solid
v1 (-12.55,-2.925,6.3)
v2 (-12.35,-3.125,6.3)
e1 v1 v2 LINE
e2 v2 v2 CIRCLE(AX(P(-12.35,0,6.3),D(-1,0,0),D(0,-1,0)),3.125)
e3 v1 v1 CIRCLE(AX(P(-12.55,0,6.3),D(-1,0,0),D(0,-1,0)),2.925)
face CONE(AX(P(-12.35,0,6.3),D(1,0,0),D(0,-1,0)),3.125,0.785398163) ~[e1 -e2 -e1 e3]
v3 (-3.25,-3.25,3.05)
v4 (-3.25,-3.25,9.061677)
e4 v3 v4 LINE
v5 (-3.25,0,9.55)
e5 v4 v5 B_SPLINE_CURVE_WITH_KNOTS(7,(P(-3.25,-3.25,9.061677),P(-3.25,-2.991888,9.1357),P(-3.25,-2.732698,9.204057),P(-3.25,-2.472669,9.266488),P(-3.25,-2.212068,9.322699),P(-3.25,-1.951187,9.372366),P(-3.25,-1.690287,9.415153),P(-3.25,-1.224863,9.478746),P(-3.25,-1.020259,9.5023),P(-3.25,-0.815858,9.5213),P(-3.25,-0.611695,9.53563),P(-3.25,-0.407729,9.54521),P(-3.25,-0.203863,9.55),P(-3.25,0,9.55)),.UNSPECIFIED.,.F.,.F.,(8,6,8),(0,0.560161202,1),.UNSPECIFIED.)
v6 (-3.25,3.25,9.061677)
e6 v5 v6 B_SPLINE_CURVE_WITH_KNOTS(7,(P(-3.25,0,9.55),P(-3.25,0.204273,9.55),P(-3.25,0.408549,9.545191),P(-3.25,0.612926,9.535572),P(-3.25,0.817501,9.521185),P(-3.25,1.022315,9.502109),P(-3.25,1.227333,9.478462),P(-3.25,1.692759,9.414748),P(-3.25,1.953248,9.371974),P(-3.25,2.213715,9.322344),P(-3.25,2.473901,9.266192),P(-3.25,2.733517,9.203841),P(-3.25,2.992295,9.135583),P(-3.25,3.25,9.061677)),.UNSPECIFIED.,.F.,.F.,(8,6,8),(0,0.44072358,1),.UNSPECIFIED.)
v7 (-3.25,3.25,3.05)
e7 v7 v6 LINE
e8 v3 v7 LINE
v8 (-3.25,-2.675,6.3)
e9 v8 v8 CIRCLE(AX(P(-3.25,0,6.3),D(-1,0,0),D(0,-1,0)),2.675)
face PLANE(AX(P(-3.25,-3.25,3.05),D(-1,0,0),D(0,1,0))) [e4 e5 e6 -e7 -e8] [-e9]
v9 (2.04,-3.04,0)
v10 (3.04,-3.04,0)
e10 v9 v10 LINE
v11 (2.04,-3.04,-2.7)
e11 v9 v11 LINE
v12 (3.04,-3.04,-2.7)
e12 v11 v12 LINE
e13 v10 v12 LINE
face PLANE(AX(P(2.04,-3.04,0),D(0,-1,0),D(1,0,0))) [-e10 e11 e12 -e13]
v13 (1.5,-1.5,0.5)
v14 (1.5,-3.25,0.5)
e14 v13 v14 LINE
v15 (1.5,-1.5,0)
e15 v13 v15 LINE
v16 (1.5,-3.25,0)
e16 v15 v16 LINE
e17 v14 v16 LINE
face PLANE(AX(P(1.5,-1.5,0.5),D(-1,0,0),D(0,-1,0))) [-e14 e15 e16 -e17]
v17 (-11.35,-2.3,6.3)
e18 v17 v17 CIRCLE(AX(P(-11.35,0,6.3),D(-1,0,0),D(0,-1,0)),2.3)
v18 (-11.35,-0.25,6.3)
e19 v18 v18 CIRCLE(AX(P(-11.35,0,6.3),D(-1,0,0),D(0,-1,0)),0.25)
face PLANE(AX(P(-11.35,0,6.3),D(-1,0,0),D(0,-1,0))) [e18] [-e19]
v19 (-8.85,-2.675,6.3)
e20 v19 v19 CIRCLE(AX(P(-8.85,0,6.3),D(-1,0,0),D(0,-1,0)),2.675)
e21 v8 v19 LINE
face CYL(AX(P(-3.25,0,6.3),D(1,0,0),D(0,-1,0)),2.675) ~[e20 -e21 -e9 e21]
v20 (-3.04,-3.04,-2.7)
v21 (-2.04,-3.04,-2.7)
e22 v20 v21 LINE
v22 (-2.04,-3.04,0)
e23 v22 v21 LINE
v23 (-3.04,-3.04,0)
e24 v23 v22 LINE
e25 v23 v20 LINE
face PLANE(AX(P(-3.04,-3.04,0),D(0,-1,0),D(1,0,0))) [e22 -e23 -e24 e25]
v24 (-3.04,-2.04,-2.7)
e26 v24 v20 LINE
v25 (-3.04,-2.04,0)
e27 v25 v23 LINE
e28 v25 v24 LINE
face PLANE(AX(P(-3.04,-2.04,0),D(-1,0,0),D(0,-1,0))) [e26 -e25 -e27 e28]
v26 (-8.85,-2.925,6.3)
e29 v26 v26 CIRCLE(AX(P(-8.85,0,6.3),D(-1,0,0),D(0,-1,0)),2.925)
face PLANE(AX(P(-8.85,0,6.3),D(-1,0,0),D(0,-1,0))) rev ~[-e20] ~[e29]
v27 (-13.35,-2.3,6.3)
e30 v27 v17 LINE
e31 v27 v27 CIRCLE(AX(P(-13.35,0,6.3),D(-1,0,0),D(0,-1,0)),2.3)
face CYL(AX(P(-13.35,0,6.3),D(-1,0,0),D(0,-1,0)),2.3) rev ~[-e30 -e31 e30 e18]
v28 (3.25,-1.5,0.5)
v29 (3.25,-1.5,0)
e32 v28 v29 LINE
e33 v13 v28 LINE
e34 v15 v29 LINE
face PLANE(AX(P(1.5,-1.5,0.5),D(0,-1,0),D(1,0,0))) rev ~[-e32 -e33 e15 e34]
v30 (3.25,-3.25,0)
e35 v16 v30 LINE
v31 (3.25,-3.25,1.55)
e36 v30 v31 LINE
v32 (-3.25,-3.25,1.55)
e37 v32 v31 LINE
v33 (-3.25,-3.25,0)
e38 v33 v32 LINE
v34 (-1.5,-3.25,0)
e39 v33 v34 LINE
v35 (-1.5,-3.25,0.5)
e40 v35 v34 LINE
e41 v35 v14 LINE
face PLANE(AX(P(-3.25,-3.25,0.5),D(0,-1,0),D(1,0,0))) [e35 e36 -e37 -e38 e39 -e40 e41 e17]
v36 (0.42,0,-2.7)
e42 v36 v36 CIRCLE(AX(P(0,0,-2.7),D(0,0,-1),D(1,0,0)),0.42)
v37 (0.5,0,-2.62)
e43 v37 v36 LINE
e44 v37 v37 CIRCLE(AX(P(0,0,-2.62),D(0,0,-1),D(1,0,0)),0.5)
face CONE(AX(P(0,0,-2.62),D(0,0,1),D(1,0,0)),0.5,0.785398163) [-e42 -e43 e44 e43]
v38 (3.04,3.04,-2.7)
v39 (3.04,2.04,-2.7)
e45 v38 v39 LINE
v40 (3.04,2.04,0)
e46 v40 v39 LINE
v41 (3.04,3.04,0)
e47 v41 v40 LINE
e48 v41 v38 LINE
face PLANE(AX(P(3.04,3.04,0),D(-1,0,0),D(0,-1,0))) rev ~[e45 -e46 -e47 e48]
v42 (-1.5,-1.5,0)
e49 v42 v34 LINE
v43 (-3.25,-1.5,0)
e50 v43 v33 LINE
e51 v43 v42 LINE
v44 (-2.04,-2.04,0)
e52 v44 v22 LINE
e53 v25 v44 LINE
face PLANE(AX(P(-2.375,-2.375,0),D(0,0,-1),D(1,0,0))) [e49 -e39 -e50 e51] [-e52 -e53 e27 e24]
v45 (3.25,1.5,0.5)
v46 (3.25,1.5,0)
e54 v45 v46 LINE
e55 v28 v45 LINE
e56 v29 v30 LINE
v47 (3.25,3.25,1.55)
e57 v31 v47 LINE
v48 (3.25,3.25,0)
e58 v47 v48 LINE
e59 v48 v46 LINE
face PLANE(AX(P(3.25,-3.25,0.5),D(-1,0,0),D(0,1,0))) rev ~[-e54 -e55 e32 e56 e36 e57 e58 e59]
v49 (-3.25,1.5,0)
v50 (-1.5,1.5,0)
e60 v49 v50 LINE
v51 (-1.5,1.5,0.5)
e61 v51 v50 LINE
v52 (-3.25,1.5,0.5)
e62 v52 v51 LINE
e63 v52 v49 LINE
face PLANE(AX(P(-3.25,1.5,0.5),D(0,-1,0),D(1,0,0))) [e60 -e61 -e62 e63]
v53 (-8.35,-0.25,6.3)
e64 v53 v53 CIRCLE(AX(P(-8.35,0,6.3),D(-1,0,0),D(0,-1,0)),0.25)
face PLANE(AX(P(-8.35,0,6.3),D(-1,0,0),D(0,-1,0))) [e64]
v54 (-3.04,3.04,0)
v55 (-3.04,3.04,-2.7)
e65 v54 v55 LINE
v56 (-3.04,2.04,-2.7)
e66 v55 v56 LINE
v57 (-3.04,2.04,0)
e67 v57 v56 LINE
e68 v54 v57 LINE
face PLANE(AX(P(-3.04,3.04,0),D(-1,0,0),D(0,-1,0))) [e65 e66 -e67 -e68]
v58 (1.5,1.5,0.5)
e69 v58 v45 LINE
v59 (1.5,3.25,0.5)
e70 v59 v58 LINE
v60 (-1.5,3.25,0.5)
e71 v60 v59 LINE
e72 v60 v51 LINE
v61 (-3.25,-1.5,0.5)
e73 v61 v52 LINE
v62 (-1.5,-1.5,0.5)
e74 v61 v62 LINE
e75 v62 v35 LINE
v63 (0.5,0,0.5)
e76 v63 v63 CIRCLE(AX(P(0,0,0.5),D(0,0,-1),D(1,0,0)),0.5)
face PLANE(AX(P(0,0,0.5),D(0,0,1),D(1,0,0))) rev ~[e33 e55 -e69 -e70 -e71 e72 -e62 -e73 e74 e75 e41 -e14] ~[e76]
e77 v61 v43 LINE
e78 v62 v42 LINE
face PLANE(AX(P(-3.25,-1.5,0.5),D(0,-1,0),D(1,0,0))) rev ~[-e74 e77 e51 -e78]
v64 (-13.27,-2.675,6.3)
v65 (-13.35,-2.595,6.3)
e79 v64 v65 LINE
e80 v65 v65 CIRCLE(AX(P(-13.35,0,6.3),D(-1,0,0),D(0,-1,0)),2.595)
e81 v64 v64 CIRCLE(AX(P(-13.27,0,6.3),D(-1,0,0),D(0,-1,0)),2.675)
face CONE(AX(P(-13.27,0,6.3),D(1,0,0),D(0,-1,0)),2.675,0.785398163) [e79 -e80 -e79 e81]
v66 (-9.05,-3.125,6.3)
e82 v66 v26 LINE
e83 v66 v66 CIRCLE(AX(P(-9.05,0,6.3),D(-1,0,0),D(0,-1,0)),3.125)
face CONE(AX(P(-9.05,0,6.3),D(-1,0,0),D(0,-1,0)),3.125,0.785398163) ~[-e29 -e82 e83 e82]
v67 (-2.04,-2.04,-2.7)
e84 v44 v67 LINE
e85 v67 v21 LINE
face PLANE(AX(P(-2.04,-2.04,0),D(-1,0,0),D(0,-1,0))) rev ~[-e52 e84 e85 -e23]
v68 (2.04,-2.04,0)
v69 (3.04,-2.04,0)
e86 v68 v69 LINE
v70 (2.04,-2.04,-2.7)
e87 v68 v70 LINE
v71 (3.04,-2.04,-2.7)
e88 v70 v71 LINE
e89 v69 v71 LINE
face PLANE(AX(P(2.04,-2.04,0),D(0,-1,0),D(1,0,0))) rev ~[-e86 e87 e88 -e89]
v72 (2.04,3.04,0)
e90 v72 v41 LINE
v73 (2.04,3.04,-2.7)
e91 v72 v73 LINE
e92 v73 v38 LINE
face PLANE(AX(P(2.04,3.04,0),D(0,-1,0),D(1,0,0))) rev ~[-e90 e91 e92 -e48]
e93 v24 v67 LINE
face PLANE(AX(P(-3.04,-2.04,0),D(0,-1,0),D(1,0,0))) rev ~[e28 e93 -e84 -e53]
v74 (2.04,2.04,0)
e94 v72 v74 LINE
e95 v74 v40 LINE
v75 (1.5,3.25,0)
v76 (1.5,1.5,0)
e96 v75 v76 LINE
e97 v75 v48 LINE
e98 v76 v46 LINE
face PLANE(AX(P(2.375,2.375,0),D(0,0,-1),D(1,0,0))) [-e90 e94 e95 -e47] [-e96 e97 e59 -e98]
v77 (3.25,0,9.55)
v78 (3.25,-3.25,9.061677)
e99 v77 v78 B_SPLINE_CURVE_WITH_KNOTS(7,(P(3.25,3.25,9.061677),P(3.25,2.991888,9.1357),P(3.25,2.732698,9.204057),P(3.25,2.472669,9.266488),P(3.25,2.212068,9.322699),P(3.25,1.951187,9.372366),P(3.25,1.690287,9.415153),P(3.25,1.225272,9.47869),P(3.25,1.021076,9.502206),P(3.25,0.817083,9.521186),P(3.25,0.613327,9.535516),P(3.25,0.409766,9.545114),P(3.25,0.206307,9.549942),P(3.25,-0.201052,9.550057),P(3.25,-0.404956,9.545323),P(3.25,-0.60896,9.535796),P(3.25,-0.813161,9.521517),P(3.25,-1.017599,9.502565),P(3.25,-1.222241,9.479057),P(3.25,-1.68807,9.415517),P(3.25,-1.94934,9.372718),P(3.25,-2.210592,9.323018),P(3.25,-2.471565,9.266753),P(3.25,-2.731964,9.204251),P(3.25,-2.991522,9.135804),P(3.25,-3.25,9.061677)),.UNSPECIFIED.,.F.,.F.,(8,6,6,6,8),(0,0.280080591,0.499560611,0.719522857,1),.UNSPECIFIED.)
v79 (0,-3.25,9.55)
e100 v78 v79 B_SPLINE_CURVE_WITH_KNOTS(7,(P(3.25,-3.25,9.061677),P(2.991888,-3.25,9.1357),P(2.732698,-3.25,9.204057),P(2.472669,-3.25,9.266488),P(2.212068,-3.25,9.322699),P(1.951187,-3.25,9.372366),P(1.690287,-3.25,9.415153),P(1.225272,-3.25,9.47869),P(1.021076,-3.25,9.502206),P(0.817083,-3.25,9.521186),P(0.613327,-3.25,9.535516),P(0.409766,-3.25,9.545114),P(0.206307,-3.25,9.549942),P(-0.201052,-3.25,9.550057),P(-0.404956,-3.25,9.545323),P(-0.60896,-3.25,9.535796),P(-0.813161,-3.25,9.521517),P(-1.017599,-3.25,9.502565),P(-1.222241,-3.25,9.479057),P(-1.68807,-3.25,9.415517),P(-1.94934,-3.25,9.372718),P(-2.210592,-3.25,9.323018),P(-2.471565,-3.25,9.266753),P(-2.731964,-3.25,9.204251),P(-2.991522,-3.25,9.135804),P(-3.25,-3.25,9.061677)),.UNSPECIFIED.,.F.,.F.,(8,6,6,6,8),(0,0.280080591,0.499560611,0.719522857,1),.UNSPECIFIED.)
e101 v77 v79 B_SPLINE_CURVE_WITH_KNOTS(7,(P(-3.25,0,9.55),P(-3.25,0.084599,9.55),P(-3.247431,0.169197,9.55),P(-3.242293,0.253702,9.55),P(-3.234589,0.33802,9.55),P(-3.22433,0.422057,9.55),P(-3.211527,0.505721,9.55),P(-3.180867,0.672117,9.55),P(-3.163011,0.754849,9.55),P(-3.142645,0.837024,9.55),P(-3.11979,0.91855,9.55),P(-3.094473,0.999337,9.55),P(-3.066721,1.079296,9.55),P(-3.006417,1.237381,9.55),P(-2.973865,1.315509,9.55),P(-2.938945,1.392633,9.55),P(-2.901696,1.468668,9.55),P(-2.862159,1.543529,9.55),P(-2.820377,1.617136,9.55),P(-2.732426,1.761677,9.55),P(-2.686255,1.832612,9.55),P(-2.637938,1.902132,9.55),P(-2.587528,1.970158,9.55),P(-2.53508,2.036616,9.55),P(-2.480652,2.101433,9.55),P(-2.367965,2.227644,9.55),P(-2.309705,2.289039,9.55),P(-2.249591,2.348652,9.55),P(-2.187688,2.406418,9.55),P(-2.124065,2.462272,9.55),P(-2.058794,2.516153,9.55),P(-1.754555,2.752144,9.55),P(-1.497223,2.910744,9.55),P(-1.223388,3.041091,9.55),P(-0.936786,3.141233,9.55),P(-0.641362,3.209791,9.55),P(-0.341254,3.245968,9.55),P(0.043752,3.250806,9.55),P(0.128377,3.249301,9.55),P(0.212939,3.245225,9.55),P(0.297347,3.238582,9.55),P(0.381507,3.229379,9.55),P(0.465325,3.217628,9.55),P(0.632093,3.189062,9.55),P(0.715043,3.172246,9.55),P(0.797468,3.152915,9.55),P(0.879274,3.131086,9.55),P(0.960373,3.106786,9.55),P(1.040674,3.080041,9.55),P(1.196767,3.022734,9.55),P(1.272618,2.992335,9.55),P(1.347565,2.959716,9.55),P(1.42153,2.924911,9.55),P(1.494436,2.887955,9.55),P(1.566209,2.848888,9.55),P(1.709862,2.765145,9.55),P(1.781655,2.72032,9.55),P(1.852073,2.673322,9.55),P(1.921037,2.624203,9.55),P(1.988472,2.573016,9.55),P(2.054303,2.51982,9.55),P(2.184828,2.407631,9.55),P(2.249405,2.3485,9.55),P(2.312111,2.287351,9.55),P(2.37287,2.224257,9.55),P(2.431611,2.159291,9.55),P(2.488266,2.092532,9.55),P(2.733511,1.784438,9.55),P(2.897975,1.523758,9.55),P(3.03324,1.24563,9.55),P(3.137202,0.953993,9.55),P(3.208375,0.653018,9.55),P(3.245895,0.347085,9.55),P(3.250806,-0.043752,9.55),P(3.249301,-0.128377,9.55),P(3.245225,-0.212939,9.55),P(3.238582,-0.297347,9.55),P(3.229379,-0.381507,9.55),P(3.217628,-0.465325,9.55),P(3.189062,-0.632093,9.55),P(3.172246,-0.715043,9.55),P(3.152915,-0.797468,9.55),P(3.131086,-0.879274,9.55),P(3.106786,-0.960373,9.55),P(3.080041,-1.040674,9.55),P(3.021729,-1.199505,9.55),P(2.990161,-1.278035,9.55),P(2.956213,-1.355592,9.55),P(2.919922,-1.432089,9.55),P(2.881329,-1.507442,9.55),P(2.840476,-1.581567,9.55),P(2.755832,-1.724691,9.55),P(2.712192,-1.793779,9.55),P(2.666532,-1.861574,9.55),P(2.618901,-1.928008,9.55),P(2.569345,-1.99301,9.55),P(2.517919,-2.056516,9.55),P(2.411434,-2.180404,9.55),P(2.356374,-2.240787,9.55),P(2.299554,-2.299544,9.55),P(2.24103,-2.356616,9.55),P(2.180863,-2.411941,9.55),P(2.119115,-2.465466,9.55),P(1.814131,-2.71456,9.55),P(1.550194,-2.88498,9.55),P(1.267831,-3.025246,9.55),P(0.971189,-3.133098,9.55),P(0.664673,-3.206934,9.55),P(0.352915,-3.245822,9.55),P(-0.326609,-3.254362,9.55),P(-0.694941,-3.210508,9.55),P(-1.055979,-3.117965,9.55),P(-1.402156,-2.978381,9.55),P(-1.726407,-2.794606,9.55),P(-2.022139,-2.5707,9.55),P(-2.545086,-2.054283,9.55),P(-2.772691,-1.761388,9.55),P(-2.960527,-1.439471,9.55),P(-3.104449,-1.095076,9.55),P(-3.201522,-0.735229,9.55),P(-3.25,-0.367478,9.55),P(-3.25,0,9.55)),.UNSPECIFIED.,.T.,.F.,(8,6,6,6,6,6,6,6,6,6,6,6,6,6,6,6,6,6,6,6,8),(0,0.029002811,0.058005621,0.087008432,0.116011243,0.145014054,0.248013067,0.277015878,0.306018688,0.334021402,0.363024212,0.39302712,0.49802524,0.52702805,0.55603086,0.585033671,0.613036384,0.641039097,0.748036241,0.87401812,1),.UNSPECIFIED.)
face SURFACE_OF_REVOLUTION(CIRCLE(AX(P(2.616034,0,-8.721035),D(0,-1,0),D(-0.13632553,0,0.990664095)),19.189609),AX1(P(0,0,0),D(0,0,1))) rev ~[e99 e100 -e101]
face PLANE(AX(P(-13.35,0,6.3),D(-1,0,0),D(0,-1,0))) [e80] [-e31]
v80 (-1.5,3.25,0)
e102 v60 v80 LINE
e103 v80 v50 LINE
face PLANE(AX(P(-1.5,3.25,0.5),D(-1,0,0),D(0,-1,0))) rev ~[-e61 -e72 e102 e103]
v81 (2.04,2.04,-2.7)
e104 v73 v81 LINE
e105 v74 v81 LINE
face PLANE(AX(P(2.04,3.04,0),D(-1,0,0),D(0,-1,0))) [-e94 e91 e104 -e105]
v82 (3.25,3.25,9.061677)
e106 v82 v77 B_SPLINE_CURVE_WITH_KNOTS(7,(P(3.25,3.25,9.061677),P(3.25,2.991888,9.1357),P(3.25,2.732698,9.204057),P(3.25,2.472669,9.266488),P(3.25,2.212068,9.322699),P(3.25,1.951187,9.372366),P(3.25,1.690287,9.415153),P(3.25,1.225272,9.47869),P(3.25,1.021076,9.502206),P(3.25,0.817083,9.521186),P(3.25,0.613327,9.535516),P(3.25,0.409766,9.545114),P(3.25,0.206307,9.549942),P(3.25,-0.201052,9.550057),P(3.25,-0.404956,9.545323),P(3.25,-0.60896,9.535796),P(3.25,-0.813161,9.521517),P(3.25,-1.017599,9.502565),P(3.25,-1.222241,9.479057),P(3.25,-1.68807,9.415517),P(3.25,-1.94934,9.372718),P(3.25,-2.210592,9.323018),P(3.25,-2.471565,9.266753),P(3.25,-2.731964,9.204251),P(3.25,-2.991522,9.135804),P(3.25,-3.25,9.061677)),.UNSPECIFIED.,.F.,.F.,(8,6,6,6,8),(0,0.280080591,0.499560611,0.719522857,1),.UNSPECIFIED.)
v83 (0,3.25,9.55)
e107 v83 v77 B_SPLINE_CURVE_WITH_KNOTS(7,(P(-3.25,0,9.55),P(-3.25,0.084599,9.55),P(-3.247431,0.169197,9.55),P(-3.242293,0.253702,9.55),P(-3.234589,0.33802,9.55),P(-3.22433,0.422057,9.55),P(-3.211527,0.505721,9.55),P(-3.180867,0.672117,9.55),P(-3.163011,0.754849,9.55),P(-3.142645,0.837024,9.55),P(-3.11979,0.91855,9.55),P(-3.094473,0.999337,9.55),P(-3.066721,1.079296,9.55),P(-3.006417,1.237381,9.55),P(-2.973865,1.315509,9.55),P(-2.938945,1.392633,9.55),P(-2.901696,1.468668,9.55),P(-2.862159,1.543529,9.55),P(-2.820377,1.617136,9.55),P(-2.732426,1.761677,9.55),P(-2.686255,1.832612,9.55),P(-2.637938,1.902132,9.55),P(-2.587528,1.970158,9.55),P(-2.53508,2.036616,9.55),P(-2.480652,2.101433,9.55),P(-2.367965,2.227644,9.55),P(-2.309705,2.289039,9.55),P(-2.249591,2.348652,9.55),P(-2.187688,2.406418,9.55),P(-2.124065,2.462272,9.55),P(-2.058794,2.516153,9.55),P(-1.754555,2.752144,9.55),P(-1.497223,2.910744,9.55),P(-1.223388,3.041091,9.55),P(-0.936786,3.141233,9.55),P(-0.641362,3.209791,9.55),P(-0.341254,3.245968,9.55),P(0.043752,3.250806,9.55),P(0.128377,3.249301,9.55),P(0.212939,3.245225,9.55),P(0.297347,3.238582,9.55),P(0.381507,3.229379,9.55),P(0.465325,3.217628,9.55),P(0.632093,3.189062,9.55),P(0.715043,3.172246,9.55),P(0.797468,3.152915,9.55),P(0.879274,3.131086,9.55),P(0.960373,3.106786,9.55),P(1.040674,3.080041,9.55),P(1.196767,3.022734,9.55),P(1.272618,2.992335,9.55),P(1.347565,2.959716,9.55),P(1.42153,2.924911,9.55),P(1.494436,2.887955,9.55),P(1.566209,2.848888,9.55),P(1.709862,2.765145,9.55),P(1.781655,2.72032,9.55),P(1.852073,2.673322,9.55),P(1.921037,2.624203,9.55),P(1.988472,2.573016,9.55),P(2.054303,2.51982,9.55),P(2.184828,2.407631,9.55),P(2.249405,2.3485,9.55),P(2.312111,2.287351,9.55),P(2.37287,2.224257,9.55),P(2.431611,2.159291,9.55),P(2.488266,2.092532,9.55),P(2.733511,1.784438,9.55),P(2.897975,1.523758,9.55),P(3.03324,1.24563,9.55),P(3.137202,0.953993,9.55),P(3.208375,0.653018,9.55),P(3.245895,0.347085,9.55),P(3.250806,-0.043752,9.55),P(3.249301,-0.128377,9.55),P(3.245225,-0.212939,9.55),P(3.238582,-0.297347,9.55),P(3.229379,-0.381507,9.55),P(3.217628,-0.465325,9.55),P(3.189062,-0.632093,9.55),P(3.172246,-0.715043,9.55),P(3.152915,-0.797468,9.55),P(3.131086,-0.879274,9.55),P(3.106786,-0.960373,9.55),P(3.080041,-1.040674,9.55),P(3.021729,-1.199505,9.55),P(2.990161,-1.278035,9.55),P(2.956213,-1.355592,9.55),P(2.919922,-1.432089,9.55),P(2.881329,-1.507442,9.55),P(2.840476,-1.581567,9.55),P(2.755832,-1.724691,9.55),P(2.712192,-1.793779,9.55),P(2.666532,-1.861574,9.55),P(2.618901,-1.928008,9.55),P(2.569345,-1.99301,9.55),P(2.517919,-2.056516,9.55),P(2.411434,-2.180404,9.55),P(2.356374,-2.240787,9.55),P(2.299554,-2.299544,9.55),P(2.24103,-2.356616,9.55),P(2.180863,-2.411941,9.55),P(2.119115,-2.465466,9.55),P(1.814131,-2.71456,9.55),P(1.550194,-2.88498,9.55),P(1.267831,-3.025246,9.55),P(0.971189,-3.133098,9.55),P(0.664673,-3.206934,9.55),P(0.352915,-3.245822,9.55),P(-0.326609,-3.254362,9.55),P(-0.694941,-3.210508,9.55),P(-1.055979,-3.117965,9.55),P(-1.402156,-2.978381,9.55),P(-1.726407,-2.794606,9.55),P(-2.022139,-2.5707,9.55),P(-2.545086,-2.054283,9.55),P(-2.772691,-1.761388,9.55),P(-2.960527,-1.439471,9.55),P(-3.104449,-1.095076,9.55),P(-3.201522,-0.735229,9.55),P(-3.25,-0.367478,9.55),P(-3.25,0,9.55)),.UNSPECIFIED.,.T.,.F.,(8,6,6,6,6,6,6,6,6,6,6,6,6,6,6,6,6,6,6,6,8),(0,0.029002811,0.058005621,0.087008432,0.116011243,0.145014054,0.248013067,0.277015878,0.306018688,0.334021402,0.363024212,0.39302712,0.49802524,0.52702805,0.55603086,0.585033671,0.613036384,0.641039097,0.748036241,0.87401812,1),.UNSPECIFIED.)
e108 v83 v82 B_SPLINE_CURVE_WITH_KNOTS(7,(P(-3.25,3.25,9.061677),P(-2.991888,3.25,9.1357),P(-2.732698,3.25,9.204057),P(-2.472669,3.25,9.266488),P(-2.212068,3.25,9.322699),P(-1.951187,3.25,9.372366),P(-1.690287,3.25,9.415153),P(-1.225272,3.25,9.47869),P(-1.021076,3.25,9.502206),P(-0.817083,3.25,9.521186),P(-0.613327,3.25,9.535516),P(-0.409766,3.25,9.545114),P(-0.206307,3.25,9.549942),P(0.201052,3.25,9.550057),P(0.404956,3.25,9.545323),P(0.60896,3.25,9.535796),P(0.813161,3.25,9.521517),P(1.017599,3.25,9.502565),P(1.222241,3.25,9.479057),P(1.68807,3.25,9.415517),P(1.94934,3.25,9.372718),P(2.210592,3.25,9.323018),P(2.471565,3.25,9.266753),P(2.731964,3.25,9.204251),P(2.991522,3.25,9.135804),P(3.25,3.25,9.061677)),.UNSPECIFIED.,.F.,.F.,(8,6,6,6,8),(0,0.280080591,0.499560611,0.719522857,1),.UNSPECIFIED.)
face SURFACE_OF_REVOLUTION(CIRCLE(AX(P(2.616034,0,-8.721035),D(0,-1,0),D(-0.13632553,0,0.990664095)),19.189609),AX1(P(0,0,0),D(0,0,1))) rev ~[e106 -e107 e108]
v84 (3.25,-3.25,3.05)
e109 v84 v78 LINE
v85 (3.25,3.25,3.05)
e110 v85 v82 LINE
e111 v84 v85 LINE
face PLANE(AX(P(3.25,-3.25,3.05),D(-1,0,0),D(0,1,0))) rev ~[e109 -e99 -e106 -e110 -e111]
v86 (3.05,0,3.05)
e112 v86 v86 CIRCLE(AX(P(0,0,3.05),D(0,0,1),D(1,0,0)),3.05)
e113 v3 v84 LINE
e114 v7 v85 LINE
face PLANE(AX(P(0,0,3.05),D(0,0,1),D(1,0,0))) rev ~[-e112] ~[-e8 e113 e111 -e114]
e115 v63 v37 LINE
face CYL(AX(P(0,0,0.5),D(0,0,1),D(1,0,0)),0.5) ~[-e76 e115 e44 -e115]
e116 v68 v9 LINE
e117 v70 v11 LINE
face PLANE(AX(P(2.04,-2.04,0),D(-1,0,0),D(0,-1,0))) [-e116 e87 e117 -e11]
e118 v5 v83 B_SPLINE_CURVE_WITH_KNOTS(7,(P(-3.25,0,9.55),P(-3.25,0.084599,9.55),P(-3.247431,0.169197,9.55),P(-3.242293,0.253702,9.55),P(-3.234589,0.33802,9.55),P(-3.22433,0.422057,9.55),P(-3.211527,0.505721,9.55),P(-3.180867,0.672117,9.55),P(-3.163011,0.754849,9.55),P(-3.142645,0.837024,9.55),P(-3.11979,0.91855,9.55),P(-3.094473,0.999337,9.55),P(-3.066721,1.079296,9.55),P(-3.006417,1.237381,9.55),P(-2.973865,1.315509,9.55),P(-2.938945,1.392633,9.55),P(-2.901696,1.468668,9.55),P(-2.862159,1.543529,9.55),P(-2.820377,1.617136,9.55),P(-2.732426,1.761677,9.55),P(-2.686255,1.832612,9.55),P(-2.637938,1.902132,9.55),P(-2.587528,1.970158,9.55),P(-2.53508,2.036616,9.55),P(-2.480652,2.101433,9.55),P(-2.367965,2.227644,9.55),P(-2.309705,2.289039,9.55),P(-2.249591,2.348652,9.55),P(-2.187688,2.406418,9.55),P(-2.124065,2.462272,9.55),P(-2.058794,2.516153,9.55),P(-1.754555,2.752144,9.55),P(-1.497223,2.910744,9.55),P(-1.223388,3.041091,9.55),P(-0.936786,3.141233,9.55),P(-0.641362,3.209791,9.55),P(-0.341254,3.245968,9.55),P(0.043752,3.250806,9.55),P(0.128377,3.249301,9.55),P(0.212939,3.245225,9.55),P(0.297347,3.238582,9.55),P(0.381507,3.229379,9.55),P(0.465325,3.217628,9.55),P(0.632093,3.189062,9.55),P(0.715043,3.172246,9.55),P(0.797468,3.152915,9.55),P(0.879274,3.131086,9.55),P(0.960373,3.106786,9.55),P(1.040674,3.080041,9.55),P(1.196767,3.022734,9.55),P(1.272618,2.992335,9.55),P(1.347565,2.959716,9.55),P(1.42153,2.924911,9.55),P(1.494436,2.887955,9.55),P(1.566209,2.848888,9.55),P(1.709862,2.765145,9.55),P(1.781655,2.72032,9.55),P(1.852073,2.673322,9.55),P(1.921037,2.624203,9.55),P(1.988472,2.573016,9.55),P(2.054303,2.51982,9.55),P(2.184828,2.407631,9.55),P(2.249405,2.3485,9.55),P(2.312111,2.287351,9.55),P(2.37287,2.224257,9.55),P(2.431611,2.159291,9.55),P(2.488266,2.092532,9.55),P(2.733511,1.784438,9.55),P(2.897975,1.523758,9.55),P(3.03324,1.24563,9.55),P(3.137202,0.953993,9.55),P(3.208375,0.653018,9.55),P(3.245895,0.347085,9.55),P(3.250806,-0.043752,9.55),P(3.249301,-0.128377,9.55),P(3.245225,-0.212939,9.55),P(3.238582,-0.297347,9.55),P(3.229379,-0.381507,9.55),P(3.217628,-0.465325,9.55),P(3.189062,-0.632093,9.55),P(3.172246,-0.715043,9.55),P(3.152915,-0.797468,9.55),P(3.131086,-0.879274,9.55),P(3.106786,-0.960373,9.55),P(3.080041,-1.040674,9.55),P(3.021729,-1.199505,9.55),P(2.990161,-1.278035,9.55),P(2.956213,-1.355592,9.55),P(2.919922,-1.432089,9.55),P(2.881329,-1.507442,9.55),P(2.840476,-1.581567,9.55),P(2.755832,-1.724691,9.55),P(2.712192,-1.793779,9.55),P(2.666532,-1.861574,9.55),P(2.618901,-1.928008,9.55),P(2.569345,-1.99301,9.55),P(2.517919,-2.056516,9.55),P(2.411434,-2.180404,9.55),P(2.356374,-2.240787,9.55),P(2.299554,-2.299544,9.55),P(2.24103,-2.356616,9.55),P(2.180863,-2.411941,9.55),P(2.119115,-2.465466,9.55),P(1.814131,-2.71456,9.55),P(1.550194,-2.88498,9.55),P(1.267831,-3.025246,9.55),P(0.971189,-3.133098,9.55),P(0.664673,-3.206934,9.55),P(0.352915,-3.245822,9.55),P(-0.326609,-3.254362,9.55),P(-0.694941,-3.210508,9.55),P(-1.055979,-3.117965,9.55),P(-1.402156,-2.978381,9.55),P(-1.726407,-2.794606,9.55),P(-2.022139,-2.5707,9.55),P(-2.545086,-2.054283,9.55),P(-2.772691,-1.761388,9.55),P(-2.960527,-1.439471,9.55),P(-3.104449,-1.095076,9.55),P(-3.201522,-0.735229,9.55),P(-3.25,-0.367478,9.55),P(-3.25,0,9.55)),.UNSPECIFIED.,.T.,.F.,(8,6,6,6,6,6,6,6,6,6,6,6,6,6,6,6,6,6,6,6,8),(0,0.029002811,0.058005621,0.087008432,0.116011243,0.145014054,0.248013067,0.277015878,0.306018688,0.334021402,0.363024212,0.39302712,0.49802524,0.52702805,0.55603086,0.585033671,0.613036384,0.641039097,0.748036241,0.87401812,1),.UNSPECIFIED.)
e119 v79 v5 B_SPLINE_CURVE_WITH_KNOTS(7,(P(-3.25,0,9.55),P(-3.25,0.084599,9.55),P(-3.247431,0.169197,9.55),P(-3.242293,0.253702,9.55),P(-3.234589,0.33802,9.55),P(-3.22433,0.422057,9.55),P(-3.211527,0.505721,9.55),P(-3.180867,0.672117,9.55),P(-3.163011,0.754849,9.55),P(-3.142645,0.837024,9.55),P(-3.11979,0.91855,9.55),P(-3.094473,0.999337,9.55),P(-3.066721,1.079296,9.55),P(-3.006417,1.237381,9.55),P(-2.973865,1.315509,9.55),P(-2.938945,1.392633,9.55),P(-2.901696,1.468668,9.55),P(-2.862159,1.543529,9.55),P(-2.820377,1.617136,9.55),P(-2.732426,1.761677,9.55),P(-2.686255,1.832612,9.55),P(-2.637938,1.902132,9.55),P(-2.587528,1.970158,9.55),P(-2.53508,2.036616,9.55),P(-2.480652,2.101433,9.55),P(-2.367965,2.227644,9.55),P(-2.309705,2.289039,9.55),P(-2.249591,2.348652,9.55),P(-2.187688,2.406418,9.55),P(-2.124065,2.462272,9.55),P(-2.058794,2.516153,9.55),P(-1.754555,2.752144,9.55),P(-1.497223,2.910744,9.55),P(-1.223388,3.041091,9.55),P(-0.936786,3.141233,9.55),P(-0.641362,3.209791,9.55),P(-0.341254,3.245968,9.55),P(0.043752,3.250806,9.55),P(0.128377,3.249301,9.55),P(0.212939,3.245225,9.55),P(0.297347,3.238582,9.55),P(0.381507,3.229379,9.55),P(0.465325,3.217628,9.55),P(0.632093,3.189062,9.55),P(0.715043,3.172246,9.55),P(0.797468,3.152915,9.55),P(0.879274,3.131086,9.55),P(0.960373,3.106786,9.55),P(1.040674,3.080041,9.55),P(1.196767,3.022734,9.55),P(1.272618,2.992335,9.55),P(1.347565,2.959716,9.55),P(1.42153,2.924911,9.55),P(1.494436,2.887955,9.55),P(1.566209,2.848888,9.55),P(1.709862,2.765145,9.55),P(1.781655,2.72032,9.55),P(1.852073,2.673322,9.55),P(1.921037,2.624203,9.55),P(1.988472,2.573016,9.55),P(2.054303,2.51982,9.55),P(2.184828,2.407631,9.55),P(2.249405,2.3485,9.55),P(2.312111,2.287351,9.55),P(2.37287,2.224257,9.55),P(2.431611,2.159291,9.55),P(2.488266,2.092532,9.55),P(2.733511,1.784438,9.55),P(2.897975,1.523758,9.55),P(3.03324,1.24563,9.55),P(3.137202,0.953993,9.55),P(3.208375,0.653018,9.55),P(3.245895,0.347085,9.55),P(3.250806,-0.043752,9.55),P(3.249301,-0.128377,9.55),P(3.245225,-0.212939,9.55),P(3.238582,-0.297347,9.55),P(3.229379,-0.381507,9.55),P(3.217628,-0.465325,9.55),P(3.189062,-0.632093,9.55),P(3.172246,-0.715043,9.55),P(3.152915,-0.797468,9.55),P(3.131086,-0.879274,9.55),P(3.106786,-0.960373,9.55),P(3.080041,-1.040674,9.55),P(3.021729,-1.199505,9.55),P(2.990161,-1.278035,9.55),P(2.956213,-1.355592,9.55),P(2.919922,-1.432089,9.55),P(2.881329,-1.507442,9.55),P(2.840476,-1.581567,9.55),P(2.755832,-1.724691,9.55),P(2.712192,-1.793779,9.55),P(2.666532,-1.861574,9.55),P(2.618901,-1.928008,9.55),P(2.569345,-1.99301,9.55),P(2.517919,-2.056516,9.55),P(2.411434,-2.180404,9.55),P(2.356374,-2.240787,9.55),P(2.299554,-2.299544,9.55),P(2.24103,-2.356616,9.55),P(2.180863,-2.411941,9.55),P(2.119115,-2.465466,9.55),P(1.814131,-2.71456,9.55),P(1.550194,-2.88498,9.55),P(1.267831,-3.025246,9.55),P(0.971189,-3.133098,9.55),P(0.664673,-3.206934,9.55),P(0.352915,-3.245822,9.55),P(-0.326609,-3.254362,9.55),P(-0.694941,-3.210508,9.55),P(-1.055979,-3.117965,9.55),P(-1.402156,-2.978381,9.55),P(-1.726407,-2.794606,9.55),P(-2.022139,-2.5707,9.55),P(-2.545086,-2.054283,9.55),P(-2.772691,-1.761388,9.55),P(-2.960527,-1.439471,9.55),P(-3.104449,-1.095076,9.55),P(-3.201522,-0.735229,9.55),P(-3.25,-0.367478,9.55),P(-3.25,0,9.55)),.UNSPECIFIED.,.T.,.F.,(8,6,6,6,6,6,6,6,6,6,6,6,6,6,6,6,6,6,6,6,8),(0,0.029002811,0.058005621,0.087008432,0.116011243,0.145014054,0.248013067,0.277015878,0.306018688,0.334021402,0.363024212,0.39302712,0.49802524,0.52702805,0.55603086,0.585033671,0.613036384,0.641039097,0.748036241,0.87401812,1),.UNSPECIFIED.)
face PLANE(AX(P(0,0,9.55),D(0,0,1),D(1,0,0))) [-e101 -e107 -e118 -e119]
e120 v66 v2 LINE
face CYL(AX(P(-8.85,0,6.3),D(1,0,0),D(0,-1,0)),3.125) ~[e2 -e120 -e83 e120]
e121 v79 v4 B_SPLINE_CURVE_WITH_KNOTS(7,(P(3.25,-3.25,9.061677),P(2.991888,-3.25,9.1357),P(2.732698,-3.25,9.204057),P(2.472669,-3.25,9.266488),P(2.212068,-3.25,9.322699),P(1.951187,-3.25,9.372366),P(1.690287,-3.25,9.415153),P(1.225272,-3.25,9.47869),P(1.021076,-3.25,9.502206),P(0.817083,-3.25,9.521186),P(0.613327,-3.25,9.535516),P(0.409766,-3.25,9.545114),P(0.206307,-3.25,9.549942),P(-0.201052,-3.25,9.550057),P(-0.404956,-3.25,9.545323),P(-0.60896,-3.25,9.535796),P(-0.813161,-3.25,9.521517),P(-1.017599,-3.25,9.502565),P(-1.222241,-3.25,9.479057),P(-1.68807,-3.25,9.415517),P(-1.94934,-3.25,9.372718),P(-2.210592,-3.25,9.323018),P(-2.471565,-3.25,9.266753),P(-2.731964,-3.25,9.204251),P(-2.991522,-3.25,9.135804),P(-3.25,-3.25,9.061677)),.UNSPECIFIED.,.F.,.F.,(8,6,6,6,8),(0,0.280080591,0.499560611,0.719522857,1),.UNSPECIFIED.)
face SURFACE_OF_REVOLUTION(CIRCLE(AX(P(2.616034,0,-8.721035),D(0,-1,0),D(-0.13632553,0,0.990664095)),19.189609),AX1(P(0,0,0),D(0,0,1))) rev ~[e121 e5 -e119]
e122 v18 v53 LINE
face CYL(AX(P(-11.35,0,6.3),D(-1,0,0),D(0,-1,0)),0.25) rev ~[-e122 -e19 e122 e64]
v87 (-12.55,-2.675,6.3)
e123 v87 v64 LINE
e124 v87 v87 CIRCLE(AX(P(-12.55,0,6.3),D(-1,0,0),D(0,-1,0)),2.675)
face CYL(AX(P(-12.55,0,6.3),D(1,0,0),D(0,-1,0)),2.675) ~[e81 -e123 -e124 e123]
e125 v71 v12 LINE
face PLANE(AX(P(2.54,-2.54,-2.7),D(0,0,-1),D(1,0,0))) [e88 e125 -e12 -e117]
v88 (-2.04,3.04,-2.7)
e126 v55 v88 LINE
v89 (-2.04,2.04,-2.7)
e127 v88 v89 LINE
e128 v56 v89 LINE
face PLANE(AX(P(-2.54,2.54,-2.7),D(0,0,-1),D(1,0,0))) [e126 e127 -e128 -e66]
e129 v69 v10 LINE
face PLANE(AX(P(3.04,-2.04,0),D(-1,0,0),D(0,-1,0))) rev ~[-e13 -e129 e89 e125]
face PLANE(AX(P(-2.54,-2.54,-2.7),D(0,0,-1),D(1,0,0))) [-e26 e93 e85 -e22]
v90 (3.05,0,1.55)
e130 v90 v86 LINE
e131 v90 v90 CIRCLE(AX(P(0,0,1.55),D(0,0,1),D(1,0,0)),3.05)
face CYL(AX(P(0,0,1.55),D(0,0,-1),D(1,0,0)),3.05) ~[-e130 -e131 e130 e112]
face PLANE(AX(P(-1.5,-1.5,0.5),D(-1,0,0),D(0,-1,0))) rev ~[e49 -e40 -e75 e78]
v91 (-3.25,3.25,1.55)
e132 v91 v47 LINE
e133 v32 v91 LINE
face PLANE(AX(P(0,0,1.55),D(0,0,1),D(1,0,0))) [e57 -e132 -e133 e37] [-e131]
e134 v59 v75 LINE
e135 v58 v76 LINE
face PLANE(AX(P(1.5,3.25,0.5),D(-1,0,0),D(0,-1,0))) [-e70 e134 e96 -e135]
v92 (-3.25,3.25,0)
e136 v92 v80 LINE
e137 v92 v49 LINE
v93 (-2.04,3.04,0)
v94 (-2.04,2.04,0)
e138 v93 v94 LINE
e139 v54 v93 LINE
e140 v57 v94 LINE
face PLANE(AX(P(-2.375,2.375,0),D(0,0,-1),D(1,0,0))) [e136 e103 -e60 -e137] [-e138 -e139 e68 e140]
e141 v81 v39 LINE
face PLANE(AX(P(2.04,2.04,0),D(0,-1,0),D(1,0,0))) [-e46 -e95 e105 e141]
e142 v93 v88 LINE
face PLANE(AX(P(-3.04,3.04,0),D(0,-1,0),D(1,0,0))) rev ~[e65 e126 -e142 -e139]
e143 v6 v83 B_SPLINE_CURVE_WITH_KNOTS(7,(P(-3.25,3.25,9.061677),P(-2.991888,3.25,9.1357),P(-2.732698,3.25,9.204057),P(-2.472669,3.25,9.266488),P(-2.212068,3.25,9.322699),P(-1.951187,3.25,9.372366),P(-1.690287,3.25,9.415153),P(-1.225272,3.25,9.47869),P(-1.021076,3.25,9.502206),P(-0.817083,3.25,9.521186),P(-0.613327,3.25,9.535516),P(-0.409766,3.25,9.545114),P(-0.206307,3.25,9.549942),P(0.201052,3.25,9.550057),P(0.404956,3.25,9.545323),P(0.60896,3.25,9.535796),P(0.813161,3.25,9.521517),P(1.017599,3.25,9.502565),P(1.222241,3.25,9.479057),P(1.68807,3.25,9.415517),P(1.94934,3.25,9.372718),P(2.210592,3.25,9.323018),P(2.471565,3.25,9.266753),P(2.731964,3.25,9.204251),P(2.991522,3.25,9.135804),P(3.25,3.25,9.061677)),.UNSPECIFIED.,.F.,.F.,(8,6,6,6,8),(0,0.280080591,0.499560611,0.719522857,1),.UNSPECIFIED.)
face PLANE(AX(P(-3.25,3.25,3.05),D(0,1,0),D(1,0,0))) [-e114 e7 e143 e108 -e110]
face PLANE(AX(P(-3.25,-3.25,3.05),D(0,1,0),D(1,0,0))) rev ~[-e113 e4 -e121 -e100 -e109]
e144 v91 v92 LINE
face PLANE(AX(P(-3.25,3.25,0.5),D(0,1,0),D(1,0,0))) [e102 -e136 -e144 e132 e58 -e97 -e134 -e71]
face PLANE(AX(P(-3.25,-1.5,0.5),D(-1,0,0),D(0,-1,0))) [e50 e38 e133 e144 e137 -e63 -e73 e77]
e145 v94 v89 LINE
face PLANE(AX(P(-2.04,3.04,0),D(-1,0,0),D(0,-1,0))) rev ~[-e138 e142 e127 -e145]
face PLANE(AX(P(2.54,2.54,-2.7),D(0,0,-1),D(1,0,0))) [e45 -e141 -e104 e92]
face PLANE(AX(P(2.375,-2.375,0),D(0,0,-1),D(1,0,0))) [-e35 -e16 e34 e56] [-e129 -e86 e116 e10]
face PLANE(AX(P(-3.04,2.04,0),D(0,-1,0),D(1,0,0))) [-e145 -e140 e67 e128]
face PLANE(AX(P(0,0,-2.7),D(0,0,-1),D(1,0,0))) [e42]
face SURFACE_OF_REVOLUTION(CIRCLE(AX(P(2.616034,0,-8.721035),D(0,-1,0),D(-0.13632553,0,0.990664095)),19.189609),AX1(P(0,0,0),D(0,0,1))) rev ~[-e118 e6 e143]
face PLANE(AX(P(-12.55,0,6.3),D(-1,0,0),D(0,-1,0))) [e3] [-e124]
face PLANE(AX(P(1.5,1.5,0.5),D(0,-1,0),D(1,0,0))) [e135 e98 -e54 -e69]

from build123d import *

# Parameters (mm, degrees)
SKETCH_W        = 6.5
SKETCH_H        = 6.5
PAD_DEPTH       = 1.05
SKETCH001_W     = 1.75
SKETCH001_H     = 1.75
PAD001_DEPTH    = 0.5
SKETCH002_W     = 1
SKETCH002_H     = 1
PAD002_DEPTH    = 2.7
SKETCH003_R     = 0.5
PAD003_DEPTH    = 3.2
CHAMFER_SIZE    = 0.08
SKETCH004_R     = 3.05
PAD004_DEPTH    = 1.5
SKETCH005_W     = 6.5
SKETCH005_H     = 6.5
PAD005_DEPTH    = 6.5
SKETCH006_R     = 2.675
PAD006_DEPTH    = 5.6
SKETCH007_R     = 3.125
PAD007_DEPTH    = 3.7
SKETCH008_R     = 2.675
PAD008_DEPTH    = 0.8
CHAMFER001_SIZE = 0.08
CHAMFER002_SIZE = 0.2
SKETCH009_R     = 2.3
POCKET_DEPTH    = 2
SKETCH010_R     = 0.25
POCKET001_DEPTH = 3


with BuildPart() as part:
    # Sketch → Pad (new body)
    with BuildSketch(Plane.XY.offset(0.5)):
        Rectangle(SKETCH_W, SKETCH_H)
    extrude(amount=PAD_DEPTH)

    # Sketch001 (on Face5 of Pad) → Pad001 (join)
    with BuildSketch(Plane(origin=(0, 0, 0.5), x_dir=(1, 0, 0), z_dir=(0, 0, -1))):
        with Locations((-2.375, 2.375)):
            Rectangle(SKETCH001_W, SKETCH001_H)
        with Locations((-2.375, -2.375)):
            Rectangle(SKETCH001_W, SKETCH001_H)
        with Locations((2.375, -2.375)):
            Rectangle(SKETCH001_W, SKETCH001_H)
        with Locations((2.375, 2.375)):
            Rectangle(SKETCH001_W, SKETCH001_H)
    extrude(amount=PAD001_DEPTH)

    # Sketch002 (on Face26 of Pad001) → Pad002 (join)
    with BuildSketch(Plane(origin=(0, 0, 0), x_dir=(1, 0, 0), z_dir=(0, 0, -1))):
        with Locations((-2.54, 2.54)):
            Rectangle(SKETCH002_W, SKETCH002_H)
        with Locations((2.54, 2.54)):
            Rectangle(SKETCH002_W, SKETCH002_H)
        with Locations((2.54, -2.54)):
            Rectangle(SKETCH002_W, SKETCH002_H)
        with Locations((-2.54, -2.54)):
            Rectangle(SKETCH002_W, SKETCH002_H)
    extrude(amount=PAD002_DEPTH)

    # Sketch003 (on Face5 of Pad002) → Pad003 (join)
    with BuildSketch(Plane(origin=(0, 0, 0.5), x_dir=(1, 0, 0), z_dir=(0, 0, -1))):
        Circle(SKETCH003_R)
    extrude(amount=PAD003_DEPTH)

    # Chamfer
    chamfer_edges = [part.edges().sort_by_distance(p)[0] for p in [
        (-0.5, 0, -2.7),
    ]]
    chamfer(chamfer_edges, length=CHAMFER_SIZE)

    # Sketch004 (on Face20 of Chamfer) → Pad004 (join)
    with BuildSketch(Plane.XY.offset(1.55)):
        Circle(SKETCH004_R)
    extrude(amount=PAD004_DEPTH)

    # Sketch005 (on Face48 of Pad004) → Pad005 (join)
    with BuildSketch(Plane.XY.offset(3.05)):
        Rectangle(SKETCH005_W, SKETCH005_H)
    extrude(amount=PAD005_DEPTH)

    # Sketch006 (on Face2 of Pad005) → Pad006 (join)
    with BuildSketch(Plane(origin=(-3.25, 0, 0), x_dir=(0, -1, 0), z_dir=(-1, 0, 0))):
        with Locations((0, 6.3)):
            Circle(SKETCH006_R)
    extrude(amount=PAD006_DEPTH)

    # Sketch007 (on Face9 of Pad006) → Pad007 (join)
    with BuildSketch(Plane(origin=(-8.85, 0, 0), x_dir=(0, -1, 0), z_dir=(-1, 0, 0))):
        with Locations((0, 6.3)):
            Circle(SKETCH007_R)
    extrude(amount=PAD007_DEPTH)

    # Sketch008 (on Face3 of Pad007) → Pad008 (join)
    with BuildSketch(Plane(origin=(-12.55, 0, 0), x_dir=(0, -1, 0), z_dir=(-1, 0, 0))):
        with Locations((0, 6.3)):
            Circle(SKETCH008_R)
    extrude(amount=PAD008_DEPTH)

    # Chamfer001
    chamfer001_edges = [part.edges().sort_by_distance(p)[0] for p in [
        (-13.35, 2.675, 6.3),
    ]]
    chamfer(chamfer001_edges, length=CHAMFER001_SIZE)

    # Chamfer002
    chamfer002_edges = [part.edges().sort_by_distance(p)[0] for p in [
        (-8.85, 3.125, 6.3),
        (-12.55, 3.125, 6.3),
    ]]
    chamfer(chamfer002_edges, length=CHAMFER002_SIZE)

    # Sketch009 (on Face7 of Chamfer002) → Pocket (cut)
    with BuildSketch(Plane(origin=(-13.35, 0, 0), x_dir=(0, -1, 0), z_dir=(-1, 0, 0))):
        with Locations((0, 6.3)):
            Circle(SKETCH009_R)
    extrude(amount=-POCKET_DEPTH, mode=Mode.SUBTRACT)

    # Sketch010 (on Face11 of Pocket) → Pocket001 (cut)
    with BuildSketch(Plane(origin=(-11.35, 0, 0), x_dir=(0, -1, 0), z_dir=(-1, 0, 0))):
        with Locations((0, 6.3)):
            Circle(SKETCH010_R)
    extrude(amount=-POCKET001_DEPTH, mode=Mode.SUBTRACT)

    # Sketch011 → Groove (revolve, cut)
    with BuildSketch(Plane.XZ):
        with BuildLine():
            ThreePointArc((0, 10.289421), (-2.380676, 9.806619), (-4.681284, 9.026929))
            Line((-4.681284, 9.026929), (-4.681284, 13.840189))
            Line((-4.681284, 13.840189), (0, 13.840189))
            Line((0, 13.840189), (0, 10.289421))
        make_face()
    revolve(axis=Axis((0, 0, 0), (0, 0, 1)), mode=Mode.SUBTRACT)


solid = part.part
